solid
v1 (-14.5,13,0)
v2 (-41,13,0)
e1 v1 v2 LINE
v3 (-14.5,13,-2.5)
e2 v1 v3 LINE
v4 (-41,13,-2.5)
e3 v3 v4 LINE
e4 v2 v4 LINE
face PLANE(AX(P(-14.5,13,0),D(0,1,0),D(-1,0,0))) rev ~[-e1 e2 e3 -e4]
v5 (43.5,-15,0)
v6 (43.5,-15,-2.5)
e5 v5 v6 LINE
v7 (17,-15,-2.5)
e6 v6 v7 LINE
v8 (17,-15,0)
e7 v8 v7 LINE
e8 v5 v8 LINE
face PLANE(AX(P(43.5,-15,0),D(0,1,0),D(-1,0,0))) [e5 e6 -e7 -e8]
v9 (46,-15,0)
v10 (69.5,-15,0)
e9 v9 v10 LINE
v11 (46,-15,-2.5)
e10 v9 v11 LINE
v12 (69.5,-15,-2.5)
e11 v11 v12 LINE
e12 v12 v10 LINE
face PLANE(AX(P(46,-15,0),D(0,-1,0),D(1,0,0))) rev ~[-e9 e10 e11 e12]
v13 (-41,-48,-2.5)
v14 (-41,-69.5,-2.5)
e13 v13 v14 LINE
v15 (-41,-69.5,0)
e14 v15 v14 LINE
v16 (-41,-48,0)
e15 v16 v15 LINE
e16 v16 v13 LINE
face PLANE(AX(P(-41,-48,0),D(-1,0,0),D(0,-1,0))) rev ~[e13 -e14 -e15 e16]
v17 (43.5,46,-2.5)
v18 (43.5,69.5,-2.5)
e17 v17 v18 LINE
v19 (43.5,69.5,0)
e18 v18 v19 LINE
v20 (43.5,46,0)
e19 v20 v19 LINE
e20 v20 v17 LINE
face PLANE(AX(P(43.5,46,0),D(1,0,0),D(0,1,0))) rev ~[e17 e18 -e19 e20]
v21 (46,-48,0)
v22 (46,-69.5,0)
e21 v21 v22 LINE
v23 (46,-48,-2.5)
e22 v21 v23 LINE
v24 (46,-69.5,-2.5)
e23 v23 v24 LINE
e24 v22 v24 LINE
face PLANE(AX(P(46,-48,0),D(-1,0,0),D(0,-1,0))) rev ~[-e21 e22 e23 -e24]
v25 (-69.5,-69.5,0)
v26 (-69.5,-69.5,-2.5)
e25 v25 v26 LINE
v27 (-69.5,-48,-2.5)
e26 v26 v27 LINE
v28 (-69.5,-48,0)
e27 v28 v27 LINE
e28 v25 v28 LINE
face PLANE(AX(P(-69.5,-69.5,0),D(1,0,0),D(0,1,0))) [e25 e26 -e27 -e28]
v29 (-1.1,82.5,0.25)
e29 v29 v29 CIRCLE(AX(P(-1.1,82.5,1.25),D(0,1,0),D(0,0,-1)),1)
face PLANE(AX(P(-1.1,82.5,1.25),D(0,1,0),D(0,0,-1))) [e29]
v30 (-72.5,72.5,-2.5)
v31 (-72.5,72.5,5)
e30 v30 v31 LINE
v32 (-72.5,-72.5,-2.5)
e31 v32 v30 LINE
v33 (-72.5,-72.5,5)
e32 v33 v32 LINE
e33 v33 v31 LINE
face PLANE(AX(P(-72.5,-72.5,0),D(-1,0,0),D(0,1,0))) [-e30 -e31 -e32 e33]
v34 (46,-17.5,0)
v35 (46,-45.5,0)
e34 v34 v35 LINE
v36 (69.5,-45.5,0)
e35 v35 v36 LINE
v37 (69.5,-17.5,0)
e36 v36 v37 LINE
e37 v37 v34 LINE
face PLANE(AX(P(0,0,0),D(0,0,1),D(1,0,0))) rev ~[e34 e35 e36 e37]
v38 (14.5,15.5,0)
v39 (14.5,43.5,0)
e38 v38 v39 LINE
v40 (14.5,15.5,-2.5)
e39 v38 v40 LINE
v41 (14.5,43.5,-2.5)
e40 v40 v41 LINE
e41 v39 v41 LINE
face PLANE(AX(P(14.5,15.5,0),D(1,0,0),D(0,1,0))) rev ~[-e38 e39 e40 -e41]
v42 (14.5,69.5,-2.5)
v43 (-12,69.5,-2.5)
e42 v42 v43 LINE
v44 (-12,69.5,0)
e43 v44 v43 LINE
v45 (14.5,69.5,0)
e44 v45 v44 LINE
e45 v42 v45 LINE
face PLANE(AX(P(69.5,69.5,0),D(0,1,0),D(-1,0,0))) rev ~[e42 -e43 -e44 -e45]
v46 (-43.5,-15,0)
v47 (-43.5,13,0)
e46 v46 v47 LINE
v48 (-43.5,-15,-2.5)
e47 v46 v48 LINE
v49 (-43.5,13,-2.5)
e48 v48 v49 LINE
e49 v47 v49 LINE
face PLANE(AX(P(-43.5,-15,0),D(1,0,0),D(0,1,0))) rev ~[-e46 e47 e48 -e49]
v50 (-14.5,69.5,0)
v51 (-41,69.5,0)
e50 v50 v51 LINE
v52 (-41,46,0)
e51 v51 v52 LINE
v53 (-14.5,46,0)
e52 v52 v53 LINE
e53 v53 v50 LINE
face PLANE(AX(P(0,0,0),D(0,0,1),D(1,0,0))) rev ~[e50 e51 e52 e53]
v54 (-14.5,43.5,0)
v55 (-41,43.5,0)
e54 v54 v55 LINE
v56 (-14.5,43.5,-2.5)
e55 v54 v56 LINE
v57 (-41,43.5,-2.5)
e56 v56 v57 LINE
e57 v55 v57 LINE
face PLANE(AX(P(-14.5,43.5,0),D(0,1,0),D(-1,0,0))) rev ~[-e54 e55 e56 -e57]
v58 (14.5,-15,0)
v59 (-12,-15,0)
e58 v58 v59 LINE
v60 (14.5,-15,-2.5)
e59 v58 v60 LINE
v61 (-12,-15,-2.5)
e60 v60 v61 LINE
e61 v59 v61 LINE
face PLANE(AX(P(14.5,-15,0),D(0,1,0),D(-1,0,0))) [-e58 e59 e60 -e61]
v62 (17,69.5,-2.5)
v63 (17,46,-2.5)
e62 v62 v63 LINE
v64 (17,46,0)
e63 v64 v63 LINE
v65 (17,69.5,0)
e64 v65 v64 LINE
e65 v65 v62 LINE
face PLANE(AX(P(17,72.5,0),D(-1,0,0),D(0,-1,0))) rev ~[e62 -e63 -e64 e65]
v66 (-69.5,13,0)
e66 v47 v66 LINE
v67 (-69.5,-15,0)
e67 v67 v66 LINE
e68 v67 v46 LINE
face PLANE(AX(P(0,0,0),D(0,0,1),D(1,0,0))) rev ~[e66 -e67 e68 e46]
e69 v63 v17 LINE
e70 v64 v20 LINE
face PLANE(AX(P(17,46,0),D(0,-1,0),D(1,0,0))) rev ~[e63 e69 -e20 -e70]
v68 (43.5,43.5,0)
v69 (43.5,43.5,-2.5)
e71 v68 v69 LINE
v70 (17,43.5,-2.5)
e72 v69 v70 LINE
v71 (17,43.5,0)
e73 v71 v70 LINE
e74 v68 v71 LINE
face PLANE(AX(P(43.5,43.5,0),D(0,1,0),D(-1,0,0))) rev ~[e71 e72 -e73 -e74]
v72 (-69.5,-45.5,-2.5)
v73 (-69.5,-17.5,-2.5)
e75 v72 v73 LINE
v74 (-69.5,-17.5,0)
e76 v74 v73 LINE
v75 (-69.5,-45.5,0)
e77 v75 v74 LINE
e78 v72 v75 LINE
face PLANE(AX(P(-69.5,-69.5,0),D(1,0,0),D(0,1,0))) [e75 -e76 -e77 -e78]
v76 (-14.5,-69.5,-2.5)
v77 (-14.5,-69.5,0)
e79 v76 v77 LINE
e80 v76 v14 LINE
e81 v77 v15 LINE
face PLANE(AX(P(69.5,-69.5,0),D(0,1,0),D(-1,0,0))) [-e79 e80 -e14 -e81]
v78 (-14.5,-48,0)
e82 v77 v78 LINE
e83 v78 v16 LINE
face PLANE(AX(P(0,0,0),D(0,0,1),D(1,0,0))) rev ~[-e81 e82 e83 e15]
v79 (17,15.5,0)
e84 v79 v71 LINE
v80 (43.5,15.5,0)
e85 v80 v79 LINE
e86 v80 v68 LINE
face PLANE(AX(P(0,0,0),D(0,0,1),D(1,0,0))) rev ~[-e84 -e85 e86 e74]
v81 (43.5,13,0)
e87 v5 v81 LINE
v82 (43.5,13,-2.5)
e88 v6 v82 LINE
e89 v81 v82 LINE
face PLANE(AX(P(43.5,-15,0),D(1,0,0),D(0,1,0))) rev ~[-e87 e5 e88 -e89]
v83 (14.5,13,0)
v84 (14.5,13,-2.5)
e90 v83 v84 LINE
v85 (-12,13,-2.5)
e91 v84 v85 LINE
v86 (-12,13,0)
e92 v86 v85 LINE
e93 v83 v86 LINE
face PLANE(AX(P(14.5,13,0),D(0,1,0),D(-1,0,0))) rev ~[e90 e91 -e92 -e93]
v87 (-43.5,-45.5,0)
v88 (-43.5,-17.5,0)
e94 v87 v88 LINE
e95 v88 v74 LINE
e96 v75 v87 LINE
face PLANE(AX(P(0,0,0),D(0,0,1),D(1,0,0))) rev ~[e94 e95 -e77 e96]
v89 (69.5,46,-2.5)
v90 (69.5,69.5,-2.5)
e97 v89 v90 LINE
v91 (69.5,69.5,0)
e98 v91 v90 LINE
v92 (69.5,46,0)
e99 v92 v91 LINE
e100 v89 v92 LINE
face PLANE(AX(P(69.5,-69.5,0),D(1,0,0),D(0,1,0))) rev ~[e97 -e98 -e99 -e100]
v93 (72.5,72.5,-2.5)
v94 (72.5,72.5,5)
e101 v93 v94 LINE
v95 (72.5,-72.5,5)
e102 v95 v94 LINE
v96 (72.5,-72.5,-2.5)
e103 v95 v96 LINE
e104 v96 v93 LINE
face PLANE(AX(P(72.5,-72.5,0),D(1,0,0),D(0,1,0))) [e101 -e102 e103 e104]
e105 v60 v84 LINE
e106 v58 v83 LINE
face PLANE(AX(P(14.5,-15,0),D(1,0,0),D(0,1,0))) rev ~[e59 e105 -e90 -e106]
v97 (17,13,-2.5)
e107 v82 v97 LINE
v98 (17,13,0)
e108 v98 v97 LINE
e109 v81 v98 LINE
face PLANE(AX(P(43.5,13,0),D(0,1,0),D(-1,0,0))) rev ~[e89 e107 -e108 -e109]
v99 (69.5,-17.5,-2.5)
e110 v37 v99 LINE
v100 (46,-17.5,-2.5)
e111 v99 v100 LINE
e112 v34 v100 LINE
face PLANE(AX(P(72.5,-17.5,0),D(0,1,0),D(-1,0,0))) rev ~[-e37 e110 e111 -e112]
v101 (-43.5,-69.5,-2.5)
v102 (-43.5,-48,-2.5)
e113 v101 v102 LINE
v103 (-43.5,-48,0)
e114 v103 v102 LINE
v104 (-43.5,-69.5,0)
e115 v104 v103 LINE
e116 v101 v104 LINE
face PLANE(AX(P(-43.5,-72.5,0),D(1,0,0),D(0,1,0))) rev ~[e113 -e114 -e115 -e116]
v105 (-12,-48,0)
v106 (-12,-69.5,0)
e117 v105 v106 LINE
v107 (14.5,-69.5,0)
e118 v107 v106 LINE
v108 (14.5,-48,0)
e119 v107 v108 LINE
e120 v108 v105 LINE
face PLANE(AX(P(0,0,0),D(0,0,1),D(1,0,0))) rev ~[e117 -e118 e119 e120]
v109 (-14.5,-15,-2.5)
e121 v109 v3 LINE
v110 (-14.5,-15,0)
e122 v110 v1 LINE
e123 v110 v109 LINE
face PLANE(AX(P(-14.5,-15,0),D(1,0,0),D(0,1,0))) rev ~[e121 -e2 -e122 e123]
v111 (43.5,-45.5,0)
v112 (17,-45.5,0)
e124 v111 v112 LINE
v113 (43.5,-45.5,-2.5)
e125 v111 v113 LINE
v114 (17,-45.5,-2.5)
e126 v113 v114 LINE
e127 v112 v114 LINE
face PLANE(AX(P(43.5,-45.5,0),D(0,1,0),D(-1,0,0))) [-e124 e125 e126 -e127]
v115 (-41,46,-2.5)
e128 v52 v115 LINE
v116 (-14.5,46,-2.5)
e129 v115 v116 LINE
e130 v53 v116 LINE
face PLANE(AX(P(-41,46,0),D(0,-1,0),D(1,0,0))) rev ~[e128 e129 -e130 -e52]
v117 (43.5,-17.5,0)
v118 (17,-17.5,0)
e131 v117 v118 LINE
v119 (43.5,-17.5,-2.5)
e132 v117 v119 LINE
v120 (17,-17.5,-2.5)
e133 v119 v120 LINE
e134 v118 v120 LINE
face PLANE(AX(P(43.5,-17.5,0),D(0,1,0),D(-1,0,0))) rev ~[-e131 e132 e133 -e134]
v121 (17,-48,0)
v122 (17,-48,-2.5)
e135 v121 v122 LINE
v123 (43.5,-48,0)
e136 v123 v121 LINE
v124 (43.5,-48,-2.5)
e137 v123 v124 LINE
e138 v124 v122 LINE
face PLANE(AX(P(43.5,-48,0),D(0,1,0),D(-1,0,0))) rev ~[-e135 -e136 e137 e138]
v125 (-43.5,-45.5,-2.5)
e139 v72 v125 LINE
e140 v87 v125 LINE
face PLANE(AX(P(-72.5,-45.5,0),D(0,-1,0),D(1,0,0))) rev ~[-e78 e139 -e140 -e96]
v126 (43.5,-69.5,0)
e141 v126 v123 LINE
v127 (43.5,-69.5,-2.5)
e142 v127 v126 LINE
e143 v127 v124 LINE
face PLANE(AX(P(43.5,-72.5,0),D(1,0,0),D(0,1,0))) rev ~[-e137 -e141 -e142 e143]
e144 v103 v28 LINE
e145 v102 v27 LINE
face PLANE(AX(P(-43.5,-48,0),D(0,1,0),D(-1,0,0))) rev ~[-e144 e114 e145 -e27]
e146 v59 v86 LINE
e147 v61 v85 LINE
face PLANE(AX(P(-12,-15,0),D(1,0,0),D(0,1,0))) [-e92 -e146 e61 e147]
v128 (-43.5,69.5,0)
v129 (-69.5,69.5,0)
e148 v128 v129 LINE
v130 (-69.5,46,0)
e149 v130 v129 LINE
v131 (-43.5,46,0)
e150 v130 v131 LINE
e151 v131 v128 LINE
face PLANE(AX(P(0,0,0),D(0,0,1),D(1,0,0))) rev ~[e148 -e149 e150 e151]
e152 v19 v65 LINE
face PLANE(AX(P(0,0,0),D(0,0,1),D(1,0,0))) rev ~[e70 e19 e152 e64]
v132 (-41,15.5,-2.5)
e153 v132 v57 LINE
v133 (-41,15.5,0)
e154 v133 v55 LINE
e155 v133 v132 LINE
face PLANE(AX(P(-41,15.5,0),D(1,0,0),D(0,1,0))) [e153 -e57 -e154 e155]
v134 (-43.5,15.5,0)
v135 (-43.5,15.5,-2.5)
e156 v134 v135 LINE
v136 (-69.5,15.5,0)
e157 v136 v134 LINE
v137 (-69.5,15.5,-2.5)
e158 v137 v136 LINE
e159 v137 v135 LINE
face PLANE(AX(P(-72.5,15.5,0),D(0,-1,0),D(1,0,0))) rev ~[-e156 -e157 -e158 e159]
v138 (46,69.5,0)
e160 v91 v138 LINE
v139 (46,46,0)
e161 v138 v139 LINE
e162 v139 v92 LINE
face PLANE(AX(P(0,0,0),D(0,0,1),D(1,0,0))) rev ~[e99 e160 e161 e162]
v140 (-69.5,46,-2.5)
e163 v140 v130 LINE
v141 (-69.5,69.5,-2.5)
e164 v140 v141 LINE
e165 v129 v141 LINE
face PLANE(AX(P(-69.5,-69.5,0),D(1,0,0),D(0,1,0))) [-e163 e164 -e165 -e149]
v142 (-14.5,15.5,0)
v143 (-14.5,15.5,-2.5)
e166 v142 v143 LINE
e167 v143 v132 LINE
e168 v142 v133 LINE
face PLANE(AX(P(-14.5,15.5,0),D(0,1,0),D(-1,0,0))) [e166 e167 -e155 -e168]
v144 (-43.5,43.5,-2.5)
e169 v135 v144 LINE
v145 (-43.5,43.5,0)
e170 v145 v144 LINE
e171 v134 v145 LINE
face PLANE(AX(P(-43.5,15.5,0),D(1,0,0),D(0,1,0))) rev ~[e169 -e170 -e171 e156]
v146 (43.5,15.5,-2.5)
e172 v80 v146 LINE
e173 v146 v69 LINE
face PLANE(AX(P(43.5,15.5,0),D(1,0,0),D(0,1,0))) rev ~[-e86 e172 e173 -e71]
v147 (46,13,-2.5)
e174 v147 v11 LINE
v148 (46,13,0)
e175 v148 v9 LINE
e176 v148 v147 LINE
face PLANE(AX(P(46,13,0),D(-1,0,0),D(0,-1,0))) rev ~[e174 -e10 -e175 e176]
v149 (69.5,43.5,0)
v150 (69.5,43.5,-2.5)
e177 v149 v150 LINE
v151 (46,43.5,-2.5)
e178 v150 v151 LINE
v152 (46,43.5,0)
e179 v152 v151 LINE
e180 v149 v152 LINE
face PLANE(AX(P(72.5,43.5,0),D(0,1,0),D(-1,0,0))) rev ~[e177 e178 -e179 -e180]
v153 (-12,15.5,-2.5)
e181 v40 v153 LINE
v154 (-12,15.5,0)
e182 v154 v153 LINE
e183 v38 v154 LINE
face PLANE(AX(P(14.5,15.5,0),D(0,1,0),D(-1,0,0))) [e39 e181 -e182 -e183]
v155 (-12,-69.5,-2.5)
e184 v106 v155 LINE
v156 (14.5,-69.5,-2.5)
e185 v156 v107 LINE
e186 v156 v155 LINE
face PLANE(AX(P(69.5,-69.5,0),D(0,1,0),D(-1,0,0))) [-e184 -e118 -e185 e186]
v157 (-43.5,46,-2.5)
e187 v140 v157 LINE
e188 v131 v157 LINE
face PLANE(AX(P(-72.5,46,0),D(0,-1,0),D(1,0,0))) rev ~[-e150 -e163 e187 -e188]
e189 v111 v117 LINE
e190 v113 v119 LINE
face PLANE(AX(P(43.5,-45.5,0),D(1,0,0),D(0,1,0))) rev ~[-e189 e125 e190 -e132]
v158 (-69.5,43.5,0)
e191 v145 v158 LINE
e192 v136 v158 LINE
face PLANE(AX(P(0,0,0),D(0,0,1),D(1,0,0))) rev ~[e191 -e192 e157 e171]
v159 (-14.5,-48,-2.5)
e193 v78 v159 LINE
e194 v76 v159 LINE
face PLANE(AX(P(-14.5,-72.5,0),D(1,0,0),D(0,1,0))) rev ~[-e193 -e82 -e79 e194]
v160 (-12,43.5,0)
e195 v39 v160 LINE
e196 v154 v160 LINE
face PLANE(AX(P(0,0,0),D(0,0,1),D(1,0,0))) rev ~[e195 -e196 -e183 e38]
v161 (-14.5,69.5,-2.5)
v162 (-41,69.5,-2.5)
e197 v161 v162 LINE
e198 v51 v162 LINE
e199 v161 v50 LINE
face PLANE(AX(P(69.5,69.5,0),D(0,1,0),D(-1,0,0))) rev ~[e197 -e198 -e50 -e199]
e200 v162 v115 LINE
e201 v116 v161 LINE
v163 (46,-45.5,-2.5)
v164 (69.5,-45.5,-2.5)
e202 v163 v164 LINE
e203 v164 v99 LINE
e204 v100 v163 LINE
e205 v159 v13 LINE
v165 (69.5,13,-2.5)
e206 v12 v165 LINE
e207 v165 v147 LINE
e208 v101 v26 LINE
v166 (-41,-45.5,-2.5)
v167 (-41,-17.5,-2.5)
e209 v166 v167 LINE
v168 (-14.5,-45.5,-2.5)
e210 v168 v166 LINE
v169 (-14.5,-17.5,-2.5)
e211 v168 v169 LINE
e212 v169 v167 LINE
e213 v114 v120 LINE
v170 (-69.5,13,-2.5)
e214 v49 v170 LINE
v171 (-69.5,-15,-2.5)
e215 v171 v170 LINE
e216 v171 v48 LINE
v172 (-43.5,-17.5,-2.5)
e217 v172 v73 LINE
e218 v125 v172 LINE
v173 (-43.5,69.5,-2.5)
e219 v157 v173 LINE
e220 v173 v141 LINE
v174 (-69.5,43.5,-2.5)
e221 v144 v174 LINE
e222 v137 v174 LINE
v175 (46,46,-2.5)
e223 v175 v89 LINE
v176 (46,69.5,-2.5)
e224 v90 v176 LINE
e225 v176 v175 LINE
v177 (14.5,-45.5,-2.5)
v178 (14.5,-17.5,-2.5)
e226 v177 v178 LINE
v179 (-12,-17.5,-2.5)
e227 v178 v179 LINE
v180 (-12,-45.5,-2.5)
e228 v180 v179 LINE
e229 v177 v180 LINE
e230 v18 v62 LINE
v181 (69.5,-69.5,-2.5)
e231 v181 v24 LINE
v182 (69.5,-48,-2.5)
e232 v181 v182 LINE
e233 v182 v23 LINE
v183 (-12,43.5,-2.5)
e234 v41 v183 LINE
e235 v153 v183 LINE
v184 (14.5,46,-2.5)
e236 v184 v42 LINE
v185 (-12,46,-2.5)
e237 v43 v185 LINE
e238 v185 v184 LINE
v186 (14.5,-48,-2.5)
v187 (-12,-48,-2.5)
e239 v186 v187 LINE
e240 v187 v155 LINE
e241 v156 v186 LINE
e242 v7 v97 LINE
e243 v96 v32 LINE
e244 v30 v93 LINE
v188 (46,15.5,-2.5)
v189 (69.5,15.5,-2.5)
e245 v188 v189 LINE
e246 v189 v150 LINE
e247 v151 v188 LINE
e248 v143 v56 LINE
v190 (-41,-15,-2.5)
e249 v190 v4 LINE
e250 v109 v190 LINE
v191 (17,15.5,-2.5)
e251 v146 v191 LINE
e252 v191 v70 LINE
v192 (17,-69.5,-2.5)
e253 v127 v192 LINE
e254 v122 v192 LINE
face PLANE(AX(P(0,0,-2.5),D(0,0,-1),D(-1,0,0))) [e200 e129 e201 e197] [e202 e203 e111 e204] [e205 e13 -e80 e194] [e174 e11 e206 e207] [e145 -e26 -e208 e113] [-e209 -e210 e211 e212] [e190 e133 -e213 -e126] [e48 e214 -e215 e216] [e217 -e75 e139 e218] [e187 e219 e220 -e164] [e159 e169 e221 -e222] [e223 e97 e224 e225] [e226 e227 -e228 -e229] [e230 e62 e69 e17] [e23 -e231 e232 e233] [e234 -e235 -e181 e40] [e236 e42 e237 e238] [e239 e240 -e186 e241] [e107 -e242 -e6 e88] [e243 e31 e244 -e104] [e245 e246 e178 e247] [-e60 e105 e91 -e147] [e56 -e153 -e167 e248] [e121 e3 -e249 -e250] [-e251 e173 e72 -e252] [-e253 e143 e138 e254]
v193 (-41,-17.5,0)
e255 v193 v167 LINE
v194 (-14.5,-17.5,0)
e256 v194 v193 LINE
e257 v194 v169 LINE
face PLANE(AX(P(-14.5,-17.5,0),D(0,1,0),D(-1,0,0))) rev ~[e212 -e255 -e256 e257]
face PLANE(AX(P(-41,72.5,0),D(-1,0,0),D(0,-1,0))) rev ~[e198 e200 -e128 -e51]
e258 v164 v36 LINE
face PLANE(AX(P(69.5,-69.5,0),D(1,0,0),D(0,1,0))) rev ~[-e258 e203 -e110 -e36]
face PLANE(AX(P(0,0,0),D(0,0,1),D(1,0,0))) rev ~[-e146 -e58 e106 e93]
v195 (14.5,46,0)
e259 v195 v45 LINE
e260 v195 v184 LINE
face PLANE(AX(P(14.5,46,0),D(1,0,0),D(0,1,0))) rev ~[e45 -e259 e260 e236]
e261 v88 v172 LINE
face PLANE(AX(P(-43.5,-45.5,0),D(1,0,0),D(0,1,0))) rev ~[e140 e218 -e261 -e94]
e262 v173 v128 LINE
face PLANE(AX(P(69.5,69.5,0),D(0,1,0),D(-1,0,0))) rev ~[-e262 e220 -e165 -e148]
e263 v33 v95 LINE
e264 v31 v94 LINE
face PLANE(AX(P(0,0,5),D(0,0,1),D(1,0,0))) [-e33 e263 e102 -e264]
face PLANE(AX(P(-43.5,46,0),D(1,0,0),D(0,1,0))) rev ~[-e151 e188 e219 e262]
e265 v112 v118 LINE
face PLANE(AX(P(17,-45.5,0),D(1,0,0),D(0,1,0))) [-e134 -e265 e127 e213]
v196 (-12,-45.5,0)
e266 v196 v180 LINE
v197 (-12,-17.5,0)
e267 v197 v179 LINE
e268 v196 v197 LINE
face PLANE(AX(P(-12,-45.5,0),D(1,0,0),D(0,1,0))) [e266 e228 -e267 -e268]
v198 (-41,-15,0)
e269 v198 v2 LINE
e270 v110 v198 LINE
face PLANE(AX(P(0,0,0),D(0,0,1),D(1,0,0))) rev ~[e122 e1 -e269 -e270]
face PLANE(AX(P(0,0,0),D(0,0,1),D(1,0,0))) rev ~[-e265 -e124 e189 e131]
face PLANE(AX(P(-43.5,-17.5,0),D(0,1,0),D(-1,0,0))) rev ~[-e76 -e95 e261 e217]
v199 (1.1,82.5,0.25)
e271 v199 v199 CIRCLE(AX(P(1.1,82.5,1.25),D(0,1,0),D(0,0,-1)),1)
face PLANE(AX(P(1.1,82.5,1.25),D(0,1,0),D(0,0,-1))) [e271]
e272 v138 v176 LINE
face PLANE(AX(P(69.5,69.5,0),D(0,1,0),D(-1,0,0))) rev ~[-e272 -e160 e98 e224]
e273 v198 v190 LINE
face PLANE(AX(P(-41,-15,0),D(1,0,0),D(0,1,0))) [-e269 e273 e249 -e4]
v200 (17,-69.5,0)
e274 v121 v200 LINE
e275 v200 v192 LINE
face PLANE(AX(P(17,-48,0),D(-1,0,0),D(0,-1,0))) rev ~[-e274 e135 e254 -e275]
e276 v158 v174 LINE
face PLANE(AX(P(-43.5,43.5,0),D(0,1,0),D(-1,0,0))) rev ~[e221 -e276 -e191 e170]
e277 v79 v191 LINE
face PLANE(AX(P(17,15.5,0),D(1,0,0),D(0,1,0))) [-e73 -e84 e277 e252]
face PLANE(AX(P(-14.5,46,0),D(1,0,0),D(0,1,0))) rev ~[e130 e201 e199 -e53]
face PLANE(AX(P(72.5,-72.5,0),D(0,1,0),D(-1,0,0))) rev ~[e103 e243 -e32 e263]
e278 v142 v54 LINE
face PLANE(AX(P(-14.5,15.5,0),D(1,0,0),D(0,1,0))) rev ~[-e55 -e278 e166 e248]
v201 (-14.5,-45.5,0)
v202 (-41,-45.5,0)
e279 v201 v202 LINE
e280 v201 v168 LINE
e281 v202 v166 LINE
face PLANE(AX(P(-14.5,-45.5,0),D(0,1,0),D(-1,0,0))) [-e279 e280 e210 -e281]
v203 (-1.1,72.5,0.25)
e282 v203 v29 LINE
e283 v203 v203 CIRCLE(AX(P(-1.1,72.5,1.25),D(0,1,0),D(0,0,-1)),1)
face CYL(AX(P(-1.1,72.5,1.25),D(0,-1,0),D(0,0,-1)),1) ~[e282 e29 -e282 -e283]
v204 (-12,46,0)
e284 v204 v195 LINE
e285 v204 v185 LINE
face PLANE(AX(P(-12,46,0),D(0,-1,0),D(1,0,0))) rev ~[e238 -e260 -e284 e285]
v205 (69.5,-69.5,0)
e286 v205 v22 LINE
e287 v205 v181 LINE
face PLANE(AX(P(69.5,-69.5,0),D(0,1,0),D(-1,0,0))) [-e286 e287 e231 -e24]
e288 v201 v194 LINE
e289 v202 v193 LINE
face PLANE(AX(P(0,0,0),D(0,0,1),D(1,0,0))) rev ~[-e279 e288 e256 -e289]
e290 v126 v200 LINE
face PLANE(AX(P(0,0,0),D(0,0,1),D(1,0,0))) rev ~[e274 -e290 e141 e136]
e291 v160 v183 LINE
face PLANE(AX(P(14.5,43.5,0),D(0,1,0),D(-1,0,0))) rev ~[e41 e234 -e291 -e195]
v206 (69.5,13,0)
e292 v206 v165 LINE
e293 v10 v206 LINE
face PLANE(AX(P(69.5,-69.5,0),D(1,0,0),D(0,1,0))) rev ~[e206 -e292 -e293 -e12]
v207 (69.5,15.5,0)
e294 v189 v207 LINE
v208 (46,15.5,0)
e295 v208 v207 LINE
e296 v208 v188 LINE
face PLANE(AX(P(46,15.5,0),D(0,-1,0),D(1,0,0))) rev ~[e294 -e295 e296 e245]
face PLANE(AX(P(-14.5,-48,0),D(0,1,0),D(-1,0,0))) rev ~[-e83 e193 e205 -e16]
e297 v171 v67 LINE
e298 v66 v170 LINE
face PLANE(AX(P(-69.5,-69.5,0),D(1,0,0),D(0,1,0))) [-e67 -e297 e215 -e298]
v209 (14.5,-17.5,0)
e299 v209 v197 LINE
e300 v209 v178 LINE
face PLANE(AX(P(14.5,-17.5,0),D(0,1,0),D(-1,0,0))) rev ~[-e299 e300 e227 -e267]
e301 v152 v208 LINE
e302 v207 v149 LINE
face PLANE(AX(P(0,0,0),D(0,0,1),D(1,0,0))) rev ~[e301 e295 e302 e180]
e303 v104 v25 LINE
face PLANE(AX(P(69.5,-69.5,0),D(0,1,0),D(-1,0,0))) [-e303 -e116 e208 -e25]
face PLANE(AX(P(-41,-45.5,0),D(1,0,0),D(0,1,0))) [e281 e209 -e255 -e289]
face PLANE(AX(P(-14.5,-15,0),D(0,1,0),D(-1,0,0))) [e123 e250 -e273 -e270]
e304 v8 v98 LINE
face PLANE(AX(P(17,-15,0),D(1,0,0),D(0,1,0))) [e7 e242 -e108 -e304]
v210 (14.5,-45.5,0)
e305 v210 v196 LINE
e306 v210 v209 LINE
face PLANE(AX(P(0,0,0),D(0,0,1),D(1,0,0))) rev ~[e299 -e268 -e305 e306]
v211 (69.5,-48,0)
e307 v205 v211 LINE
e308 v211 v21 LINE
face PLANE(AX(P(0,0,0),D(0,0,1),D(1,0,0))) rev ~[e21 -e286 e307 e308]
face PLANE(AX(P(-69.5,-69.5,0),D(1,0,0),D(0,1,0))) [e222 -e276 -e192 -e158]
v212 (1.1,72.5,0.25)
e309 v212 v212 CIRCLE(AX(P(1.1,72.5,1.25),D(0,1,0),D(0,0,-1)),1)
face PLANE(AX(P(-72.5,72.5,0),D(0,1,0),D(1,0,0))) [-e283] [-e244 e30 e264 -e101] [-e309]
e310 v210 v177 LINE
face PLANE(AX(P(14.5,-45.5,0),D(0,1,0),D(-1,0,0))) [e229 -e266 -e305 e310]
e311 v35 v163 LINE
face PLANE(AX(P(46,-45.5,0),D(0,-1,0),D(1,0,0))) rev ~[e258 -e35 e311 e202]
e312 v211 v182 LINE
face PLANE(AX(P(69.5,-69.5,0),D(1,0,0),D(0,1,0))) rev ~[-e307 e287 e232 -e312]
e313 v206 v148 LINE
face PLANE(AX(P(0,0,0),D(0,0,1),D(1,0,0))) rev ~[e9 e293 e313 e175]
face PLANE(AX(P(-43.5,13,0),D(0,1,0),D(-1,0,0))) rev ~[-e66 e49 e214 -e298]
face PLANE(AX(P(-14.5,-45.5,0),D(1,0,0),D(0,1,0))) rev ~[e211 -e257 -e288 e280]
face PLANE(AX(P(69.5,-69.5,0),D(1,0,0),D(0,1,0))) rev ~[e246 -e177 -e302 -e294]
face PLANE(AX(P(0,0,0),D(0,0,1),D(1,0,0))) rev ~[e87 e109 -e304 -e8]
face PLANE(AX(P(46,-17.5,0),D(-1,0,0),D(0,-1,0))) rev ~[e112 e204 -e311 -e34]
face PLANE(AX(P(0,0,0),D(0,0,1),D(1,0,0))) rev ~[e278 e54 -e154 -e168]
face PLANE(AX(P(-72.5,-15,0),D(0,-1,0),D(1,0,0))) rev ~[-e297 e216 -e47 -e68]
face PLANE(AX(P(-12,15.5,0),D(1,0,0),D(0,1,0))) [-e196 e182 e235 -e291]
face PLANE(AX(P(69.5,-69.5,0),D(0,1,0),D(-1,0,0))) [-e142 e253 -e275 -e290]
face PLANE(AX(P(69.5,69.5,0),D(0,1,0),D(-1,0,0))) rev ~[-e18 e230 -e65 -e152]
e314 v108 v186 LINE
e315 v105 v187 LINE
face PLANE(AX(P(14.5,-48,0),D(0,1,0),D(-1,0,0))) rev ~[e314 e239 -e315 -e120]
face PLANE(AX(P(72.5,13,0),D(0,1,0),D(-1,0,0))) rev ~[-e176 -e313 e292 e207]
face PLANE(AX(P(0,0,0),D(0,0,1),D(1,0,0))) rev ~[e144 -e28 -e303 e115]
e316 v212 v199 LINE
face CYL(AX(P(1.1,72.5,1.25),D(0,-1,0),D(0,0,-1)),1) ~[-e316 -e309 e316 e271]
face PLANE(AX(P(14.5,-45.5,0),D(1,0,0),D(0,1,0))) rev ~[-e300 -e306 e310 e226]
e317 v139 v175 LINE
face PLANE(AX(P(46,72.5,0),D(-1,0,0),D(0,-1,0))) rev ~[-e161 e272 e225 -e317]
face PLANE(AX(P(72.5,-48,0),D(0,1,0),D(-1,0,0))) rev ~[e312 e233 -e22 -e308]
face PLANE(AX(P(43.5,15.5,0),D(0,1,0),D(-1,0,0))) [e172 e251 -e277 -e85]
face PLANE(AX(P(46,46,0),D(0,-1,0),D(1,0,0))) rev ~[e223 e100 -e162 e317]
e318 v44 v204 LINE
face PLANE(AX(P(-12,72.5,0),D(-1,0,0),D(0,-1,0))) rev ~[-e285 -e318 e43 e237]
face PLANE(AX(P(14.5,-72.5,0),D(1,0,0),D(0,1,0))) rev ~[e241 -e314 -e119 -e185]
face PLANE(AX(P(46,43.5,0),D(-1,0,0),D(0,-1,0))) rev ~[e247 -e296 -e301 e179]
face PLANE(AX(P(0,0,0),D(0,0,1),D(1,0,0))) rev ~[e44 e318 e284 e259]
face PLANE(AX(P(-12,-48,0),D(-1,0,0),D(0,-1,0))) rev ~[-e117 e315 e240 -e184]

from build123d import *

# Parameters (mm, degrees)
ESQUISSE1_W        = 145
ESQUISSE1_H        = 145
BOSS_EXTRU_1_DEPTH = 5
ESQUISSE2_W        = 26.5
ESQUISSE2_H        = 28
BOSS_EXTRU_2_DEPTH = 2.5
ESQUISSE3_W        = 145
ESQUISSE3_H        = 145
ESQUISSE3_W_2      = 139
ESQUISSE3_H_2      = 139
BOSS_EXTRU_3_DEPTH = 2.5
ESQUISSE4_R        = 1
BOSS_EXTRU_4_DEPTH = 10


with BuildPart() as part:
    # Esquisse1 → Boss.-Extru.1 (new body)
    with BuildSketch(Plane.XY):
        Rectangle(ESQUISSE1_W, ESQUISSE1_H)
    extrude(amount=BOSS_EXTRU_1_DEPTH)

    # Esquisse2 → Boss.-Extru.2 (add)
    with BuildSketch(Plane(origin=(0, 0, 0), x_dir=(-1, 0, 0), z_dir=(0, 0, -1))):
        Polygon((-14.5, -48), (12, -48), (12, -72.5), (14.5, -72.5), (14.5, -48), (41, -48), (41, -72.5), (43.5, -72.5), (43.5, -48), (72.5, -48), (72.5, -45.5), (43.5, -45.5), (43.5, -17.5), (72.5, -17.5), (72.5, -15), (43.5, -15), (43.5, 13), (72.5, 13), (72.5, 15.5), (43.5, 15.5), (43.5, 43.5), (72.5, 43.5), (72.5, 46), (43.5, 46), (43.5, 72.5), (41, 72.5), (41, 46), (14.5, 46), (14.5, 72.5), (12, 72.5), (12, 46), (-14.5, 46), (-14.5, 72.5), (-17, 72.5), (-17, 46), (-43.5, 46), (-43.5, 72.5), (-46, 72.5), (-46, 46), (-72.5, 46), (-72.5, 43.5), (-46, 43.5), (-46, 15.5), (-72.5, 15.5), (-72.5, 13), (-46, 13), (-46, -15), (-72.5, -15), (-72.5, -17.5), (-46, -17.5), (-46, -45.5), (-72.5, -45.5), (-72.5, -48), (-46, -48), (-46, -72.5), (-43.5, -72.5), (-43.5, -48), (-17, -48), (-17, -72.5), (-14.5, -72.5), align=None)
        with Locations((27.75, -31.5)):
            Rectangle(ESQUISSE2_W, ESQUISSE2_H, mode=Mode.SUBTRACT)
        with Locations((-30.25, -31.5)):
            Rectangle(ESQUISSE2_W, ESQUISSE2_H, mode=Mode.SUBTRACT)
        with Locations((-1.25, -31.5)):
            Rectangle(ESQUISSE2_W, ESQUISSE2_H, mode=Mode.SUBTRACT)
        with Locations((-30.25, -1)):
            Rectangle(ESQUISSE2_W, ESQUISSE2_H, mode=Mode.SUBTRACT)
        with Locations((-30.25, 29.5)):
            Rectangle(ESQUISSE2_W, ESQUISSE2_H, mode=Mode.SUBTRACT)
        with Locations((-1.25, -1)):
            Rectangle(ESQUISSE2_W, ESQUISSE2_H, mode=Mode.SUBTRACT)
        with Locations((27.75, -1)):
            Rectangle(ESQUISSE2_W, ESQUISSE2_H, mode=Mode.SUBTRACT)
        with Locations((-1.25, 29.5)):
            Rectangle(ESQUISSE2_W, ESQUISSE2_H, mode=Mode.SUBTRACT)
        with Locations((27.75, 29.5)):
            Rectangle(ESQUISSE2_W, ESQUISSE2_H, mode=Mode.SUBTRACT)
    extrude(amount=BOSS_EXTRU_2_DEPTH)

    # Esquisse3 → Boss.-Extru.3 (add)
    with BuildSketch(Plane(origin=(0, 0, 0), x_dir=(-1, 0, 0), z_dir=(0, 0, -1))):
        Rectangle(ESQUISSE3_W, ESQUISSE3_H)
        Rectangle(ESQUISSE3_W_2, ESQUISSE3_H_2, mode=Mode.SUBTRACT)
    extrude(amount=BOSS_EXTRU_3_DEPTH)

    # Esquisse4 → Boss.-Extru.4 (add)
    with BuildSketch(Plane(origin=(0, 72.5, 0), x_dir=(1, 0, 0), z_dir=(0, 1, 0))):
        with Locations(Location((-1.1, -1.25, 0), (0, 0, 90))):
            Circle(ESQUISSE4_R)
        with Locations(Location((1.1, -1.25, 0), (0, 0, 90))):
            Circle(ESQUISSE4_R)
    extrude(amount=BOSS_EXTRU_4_DEPTH)


solid = part.part
